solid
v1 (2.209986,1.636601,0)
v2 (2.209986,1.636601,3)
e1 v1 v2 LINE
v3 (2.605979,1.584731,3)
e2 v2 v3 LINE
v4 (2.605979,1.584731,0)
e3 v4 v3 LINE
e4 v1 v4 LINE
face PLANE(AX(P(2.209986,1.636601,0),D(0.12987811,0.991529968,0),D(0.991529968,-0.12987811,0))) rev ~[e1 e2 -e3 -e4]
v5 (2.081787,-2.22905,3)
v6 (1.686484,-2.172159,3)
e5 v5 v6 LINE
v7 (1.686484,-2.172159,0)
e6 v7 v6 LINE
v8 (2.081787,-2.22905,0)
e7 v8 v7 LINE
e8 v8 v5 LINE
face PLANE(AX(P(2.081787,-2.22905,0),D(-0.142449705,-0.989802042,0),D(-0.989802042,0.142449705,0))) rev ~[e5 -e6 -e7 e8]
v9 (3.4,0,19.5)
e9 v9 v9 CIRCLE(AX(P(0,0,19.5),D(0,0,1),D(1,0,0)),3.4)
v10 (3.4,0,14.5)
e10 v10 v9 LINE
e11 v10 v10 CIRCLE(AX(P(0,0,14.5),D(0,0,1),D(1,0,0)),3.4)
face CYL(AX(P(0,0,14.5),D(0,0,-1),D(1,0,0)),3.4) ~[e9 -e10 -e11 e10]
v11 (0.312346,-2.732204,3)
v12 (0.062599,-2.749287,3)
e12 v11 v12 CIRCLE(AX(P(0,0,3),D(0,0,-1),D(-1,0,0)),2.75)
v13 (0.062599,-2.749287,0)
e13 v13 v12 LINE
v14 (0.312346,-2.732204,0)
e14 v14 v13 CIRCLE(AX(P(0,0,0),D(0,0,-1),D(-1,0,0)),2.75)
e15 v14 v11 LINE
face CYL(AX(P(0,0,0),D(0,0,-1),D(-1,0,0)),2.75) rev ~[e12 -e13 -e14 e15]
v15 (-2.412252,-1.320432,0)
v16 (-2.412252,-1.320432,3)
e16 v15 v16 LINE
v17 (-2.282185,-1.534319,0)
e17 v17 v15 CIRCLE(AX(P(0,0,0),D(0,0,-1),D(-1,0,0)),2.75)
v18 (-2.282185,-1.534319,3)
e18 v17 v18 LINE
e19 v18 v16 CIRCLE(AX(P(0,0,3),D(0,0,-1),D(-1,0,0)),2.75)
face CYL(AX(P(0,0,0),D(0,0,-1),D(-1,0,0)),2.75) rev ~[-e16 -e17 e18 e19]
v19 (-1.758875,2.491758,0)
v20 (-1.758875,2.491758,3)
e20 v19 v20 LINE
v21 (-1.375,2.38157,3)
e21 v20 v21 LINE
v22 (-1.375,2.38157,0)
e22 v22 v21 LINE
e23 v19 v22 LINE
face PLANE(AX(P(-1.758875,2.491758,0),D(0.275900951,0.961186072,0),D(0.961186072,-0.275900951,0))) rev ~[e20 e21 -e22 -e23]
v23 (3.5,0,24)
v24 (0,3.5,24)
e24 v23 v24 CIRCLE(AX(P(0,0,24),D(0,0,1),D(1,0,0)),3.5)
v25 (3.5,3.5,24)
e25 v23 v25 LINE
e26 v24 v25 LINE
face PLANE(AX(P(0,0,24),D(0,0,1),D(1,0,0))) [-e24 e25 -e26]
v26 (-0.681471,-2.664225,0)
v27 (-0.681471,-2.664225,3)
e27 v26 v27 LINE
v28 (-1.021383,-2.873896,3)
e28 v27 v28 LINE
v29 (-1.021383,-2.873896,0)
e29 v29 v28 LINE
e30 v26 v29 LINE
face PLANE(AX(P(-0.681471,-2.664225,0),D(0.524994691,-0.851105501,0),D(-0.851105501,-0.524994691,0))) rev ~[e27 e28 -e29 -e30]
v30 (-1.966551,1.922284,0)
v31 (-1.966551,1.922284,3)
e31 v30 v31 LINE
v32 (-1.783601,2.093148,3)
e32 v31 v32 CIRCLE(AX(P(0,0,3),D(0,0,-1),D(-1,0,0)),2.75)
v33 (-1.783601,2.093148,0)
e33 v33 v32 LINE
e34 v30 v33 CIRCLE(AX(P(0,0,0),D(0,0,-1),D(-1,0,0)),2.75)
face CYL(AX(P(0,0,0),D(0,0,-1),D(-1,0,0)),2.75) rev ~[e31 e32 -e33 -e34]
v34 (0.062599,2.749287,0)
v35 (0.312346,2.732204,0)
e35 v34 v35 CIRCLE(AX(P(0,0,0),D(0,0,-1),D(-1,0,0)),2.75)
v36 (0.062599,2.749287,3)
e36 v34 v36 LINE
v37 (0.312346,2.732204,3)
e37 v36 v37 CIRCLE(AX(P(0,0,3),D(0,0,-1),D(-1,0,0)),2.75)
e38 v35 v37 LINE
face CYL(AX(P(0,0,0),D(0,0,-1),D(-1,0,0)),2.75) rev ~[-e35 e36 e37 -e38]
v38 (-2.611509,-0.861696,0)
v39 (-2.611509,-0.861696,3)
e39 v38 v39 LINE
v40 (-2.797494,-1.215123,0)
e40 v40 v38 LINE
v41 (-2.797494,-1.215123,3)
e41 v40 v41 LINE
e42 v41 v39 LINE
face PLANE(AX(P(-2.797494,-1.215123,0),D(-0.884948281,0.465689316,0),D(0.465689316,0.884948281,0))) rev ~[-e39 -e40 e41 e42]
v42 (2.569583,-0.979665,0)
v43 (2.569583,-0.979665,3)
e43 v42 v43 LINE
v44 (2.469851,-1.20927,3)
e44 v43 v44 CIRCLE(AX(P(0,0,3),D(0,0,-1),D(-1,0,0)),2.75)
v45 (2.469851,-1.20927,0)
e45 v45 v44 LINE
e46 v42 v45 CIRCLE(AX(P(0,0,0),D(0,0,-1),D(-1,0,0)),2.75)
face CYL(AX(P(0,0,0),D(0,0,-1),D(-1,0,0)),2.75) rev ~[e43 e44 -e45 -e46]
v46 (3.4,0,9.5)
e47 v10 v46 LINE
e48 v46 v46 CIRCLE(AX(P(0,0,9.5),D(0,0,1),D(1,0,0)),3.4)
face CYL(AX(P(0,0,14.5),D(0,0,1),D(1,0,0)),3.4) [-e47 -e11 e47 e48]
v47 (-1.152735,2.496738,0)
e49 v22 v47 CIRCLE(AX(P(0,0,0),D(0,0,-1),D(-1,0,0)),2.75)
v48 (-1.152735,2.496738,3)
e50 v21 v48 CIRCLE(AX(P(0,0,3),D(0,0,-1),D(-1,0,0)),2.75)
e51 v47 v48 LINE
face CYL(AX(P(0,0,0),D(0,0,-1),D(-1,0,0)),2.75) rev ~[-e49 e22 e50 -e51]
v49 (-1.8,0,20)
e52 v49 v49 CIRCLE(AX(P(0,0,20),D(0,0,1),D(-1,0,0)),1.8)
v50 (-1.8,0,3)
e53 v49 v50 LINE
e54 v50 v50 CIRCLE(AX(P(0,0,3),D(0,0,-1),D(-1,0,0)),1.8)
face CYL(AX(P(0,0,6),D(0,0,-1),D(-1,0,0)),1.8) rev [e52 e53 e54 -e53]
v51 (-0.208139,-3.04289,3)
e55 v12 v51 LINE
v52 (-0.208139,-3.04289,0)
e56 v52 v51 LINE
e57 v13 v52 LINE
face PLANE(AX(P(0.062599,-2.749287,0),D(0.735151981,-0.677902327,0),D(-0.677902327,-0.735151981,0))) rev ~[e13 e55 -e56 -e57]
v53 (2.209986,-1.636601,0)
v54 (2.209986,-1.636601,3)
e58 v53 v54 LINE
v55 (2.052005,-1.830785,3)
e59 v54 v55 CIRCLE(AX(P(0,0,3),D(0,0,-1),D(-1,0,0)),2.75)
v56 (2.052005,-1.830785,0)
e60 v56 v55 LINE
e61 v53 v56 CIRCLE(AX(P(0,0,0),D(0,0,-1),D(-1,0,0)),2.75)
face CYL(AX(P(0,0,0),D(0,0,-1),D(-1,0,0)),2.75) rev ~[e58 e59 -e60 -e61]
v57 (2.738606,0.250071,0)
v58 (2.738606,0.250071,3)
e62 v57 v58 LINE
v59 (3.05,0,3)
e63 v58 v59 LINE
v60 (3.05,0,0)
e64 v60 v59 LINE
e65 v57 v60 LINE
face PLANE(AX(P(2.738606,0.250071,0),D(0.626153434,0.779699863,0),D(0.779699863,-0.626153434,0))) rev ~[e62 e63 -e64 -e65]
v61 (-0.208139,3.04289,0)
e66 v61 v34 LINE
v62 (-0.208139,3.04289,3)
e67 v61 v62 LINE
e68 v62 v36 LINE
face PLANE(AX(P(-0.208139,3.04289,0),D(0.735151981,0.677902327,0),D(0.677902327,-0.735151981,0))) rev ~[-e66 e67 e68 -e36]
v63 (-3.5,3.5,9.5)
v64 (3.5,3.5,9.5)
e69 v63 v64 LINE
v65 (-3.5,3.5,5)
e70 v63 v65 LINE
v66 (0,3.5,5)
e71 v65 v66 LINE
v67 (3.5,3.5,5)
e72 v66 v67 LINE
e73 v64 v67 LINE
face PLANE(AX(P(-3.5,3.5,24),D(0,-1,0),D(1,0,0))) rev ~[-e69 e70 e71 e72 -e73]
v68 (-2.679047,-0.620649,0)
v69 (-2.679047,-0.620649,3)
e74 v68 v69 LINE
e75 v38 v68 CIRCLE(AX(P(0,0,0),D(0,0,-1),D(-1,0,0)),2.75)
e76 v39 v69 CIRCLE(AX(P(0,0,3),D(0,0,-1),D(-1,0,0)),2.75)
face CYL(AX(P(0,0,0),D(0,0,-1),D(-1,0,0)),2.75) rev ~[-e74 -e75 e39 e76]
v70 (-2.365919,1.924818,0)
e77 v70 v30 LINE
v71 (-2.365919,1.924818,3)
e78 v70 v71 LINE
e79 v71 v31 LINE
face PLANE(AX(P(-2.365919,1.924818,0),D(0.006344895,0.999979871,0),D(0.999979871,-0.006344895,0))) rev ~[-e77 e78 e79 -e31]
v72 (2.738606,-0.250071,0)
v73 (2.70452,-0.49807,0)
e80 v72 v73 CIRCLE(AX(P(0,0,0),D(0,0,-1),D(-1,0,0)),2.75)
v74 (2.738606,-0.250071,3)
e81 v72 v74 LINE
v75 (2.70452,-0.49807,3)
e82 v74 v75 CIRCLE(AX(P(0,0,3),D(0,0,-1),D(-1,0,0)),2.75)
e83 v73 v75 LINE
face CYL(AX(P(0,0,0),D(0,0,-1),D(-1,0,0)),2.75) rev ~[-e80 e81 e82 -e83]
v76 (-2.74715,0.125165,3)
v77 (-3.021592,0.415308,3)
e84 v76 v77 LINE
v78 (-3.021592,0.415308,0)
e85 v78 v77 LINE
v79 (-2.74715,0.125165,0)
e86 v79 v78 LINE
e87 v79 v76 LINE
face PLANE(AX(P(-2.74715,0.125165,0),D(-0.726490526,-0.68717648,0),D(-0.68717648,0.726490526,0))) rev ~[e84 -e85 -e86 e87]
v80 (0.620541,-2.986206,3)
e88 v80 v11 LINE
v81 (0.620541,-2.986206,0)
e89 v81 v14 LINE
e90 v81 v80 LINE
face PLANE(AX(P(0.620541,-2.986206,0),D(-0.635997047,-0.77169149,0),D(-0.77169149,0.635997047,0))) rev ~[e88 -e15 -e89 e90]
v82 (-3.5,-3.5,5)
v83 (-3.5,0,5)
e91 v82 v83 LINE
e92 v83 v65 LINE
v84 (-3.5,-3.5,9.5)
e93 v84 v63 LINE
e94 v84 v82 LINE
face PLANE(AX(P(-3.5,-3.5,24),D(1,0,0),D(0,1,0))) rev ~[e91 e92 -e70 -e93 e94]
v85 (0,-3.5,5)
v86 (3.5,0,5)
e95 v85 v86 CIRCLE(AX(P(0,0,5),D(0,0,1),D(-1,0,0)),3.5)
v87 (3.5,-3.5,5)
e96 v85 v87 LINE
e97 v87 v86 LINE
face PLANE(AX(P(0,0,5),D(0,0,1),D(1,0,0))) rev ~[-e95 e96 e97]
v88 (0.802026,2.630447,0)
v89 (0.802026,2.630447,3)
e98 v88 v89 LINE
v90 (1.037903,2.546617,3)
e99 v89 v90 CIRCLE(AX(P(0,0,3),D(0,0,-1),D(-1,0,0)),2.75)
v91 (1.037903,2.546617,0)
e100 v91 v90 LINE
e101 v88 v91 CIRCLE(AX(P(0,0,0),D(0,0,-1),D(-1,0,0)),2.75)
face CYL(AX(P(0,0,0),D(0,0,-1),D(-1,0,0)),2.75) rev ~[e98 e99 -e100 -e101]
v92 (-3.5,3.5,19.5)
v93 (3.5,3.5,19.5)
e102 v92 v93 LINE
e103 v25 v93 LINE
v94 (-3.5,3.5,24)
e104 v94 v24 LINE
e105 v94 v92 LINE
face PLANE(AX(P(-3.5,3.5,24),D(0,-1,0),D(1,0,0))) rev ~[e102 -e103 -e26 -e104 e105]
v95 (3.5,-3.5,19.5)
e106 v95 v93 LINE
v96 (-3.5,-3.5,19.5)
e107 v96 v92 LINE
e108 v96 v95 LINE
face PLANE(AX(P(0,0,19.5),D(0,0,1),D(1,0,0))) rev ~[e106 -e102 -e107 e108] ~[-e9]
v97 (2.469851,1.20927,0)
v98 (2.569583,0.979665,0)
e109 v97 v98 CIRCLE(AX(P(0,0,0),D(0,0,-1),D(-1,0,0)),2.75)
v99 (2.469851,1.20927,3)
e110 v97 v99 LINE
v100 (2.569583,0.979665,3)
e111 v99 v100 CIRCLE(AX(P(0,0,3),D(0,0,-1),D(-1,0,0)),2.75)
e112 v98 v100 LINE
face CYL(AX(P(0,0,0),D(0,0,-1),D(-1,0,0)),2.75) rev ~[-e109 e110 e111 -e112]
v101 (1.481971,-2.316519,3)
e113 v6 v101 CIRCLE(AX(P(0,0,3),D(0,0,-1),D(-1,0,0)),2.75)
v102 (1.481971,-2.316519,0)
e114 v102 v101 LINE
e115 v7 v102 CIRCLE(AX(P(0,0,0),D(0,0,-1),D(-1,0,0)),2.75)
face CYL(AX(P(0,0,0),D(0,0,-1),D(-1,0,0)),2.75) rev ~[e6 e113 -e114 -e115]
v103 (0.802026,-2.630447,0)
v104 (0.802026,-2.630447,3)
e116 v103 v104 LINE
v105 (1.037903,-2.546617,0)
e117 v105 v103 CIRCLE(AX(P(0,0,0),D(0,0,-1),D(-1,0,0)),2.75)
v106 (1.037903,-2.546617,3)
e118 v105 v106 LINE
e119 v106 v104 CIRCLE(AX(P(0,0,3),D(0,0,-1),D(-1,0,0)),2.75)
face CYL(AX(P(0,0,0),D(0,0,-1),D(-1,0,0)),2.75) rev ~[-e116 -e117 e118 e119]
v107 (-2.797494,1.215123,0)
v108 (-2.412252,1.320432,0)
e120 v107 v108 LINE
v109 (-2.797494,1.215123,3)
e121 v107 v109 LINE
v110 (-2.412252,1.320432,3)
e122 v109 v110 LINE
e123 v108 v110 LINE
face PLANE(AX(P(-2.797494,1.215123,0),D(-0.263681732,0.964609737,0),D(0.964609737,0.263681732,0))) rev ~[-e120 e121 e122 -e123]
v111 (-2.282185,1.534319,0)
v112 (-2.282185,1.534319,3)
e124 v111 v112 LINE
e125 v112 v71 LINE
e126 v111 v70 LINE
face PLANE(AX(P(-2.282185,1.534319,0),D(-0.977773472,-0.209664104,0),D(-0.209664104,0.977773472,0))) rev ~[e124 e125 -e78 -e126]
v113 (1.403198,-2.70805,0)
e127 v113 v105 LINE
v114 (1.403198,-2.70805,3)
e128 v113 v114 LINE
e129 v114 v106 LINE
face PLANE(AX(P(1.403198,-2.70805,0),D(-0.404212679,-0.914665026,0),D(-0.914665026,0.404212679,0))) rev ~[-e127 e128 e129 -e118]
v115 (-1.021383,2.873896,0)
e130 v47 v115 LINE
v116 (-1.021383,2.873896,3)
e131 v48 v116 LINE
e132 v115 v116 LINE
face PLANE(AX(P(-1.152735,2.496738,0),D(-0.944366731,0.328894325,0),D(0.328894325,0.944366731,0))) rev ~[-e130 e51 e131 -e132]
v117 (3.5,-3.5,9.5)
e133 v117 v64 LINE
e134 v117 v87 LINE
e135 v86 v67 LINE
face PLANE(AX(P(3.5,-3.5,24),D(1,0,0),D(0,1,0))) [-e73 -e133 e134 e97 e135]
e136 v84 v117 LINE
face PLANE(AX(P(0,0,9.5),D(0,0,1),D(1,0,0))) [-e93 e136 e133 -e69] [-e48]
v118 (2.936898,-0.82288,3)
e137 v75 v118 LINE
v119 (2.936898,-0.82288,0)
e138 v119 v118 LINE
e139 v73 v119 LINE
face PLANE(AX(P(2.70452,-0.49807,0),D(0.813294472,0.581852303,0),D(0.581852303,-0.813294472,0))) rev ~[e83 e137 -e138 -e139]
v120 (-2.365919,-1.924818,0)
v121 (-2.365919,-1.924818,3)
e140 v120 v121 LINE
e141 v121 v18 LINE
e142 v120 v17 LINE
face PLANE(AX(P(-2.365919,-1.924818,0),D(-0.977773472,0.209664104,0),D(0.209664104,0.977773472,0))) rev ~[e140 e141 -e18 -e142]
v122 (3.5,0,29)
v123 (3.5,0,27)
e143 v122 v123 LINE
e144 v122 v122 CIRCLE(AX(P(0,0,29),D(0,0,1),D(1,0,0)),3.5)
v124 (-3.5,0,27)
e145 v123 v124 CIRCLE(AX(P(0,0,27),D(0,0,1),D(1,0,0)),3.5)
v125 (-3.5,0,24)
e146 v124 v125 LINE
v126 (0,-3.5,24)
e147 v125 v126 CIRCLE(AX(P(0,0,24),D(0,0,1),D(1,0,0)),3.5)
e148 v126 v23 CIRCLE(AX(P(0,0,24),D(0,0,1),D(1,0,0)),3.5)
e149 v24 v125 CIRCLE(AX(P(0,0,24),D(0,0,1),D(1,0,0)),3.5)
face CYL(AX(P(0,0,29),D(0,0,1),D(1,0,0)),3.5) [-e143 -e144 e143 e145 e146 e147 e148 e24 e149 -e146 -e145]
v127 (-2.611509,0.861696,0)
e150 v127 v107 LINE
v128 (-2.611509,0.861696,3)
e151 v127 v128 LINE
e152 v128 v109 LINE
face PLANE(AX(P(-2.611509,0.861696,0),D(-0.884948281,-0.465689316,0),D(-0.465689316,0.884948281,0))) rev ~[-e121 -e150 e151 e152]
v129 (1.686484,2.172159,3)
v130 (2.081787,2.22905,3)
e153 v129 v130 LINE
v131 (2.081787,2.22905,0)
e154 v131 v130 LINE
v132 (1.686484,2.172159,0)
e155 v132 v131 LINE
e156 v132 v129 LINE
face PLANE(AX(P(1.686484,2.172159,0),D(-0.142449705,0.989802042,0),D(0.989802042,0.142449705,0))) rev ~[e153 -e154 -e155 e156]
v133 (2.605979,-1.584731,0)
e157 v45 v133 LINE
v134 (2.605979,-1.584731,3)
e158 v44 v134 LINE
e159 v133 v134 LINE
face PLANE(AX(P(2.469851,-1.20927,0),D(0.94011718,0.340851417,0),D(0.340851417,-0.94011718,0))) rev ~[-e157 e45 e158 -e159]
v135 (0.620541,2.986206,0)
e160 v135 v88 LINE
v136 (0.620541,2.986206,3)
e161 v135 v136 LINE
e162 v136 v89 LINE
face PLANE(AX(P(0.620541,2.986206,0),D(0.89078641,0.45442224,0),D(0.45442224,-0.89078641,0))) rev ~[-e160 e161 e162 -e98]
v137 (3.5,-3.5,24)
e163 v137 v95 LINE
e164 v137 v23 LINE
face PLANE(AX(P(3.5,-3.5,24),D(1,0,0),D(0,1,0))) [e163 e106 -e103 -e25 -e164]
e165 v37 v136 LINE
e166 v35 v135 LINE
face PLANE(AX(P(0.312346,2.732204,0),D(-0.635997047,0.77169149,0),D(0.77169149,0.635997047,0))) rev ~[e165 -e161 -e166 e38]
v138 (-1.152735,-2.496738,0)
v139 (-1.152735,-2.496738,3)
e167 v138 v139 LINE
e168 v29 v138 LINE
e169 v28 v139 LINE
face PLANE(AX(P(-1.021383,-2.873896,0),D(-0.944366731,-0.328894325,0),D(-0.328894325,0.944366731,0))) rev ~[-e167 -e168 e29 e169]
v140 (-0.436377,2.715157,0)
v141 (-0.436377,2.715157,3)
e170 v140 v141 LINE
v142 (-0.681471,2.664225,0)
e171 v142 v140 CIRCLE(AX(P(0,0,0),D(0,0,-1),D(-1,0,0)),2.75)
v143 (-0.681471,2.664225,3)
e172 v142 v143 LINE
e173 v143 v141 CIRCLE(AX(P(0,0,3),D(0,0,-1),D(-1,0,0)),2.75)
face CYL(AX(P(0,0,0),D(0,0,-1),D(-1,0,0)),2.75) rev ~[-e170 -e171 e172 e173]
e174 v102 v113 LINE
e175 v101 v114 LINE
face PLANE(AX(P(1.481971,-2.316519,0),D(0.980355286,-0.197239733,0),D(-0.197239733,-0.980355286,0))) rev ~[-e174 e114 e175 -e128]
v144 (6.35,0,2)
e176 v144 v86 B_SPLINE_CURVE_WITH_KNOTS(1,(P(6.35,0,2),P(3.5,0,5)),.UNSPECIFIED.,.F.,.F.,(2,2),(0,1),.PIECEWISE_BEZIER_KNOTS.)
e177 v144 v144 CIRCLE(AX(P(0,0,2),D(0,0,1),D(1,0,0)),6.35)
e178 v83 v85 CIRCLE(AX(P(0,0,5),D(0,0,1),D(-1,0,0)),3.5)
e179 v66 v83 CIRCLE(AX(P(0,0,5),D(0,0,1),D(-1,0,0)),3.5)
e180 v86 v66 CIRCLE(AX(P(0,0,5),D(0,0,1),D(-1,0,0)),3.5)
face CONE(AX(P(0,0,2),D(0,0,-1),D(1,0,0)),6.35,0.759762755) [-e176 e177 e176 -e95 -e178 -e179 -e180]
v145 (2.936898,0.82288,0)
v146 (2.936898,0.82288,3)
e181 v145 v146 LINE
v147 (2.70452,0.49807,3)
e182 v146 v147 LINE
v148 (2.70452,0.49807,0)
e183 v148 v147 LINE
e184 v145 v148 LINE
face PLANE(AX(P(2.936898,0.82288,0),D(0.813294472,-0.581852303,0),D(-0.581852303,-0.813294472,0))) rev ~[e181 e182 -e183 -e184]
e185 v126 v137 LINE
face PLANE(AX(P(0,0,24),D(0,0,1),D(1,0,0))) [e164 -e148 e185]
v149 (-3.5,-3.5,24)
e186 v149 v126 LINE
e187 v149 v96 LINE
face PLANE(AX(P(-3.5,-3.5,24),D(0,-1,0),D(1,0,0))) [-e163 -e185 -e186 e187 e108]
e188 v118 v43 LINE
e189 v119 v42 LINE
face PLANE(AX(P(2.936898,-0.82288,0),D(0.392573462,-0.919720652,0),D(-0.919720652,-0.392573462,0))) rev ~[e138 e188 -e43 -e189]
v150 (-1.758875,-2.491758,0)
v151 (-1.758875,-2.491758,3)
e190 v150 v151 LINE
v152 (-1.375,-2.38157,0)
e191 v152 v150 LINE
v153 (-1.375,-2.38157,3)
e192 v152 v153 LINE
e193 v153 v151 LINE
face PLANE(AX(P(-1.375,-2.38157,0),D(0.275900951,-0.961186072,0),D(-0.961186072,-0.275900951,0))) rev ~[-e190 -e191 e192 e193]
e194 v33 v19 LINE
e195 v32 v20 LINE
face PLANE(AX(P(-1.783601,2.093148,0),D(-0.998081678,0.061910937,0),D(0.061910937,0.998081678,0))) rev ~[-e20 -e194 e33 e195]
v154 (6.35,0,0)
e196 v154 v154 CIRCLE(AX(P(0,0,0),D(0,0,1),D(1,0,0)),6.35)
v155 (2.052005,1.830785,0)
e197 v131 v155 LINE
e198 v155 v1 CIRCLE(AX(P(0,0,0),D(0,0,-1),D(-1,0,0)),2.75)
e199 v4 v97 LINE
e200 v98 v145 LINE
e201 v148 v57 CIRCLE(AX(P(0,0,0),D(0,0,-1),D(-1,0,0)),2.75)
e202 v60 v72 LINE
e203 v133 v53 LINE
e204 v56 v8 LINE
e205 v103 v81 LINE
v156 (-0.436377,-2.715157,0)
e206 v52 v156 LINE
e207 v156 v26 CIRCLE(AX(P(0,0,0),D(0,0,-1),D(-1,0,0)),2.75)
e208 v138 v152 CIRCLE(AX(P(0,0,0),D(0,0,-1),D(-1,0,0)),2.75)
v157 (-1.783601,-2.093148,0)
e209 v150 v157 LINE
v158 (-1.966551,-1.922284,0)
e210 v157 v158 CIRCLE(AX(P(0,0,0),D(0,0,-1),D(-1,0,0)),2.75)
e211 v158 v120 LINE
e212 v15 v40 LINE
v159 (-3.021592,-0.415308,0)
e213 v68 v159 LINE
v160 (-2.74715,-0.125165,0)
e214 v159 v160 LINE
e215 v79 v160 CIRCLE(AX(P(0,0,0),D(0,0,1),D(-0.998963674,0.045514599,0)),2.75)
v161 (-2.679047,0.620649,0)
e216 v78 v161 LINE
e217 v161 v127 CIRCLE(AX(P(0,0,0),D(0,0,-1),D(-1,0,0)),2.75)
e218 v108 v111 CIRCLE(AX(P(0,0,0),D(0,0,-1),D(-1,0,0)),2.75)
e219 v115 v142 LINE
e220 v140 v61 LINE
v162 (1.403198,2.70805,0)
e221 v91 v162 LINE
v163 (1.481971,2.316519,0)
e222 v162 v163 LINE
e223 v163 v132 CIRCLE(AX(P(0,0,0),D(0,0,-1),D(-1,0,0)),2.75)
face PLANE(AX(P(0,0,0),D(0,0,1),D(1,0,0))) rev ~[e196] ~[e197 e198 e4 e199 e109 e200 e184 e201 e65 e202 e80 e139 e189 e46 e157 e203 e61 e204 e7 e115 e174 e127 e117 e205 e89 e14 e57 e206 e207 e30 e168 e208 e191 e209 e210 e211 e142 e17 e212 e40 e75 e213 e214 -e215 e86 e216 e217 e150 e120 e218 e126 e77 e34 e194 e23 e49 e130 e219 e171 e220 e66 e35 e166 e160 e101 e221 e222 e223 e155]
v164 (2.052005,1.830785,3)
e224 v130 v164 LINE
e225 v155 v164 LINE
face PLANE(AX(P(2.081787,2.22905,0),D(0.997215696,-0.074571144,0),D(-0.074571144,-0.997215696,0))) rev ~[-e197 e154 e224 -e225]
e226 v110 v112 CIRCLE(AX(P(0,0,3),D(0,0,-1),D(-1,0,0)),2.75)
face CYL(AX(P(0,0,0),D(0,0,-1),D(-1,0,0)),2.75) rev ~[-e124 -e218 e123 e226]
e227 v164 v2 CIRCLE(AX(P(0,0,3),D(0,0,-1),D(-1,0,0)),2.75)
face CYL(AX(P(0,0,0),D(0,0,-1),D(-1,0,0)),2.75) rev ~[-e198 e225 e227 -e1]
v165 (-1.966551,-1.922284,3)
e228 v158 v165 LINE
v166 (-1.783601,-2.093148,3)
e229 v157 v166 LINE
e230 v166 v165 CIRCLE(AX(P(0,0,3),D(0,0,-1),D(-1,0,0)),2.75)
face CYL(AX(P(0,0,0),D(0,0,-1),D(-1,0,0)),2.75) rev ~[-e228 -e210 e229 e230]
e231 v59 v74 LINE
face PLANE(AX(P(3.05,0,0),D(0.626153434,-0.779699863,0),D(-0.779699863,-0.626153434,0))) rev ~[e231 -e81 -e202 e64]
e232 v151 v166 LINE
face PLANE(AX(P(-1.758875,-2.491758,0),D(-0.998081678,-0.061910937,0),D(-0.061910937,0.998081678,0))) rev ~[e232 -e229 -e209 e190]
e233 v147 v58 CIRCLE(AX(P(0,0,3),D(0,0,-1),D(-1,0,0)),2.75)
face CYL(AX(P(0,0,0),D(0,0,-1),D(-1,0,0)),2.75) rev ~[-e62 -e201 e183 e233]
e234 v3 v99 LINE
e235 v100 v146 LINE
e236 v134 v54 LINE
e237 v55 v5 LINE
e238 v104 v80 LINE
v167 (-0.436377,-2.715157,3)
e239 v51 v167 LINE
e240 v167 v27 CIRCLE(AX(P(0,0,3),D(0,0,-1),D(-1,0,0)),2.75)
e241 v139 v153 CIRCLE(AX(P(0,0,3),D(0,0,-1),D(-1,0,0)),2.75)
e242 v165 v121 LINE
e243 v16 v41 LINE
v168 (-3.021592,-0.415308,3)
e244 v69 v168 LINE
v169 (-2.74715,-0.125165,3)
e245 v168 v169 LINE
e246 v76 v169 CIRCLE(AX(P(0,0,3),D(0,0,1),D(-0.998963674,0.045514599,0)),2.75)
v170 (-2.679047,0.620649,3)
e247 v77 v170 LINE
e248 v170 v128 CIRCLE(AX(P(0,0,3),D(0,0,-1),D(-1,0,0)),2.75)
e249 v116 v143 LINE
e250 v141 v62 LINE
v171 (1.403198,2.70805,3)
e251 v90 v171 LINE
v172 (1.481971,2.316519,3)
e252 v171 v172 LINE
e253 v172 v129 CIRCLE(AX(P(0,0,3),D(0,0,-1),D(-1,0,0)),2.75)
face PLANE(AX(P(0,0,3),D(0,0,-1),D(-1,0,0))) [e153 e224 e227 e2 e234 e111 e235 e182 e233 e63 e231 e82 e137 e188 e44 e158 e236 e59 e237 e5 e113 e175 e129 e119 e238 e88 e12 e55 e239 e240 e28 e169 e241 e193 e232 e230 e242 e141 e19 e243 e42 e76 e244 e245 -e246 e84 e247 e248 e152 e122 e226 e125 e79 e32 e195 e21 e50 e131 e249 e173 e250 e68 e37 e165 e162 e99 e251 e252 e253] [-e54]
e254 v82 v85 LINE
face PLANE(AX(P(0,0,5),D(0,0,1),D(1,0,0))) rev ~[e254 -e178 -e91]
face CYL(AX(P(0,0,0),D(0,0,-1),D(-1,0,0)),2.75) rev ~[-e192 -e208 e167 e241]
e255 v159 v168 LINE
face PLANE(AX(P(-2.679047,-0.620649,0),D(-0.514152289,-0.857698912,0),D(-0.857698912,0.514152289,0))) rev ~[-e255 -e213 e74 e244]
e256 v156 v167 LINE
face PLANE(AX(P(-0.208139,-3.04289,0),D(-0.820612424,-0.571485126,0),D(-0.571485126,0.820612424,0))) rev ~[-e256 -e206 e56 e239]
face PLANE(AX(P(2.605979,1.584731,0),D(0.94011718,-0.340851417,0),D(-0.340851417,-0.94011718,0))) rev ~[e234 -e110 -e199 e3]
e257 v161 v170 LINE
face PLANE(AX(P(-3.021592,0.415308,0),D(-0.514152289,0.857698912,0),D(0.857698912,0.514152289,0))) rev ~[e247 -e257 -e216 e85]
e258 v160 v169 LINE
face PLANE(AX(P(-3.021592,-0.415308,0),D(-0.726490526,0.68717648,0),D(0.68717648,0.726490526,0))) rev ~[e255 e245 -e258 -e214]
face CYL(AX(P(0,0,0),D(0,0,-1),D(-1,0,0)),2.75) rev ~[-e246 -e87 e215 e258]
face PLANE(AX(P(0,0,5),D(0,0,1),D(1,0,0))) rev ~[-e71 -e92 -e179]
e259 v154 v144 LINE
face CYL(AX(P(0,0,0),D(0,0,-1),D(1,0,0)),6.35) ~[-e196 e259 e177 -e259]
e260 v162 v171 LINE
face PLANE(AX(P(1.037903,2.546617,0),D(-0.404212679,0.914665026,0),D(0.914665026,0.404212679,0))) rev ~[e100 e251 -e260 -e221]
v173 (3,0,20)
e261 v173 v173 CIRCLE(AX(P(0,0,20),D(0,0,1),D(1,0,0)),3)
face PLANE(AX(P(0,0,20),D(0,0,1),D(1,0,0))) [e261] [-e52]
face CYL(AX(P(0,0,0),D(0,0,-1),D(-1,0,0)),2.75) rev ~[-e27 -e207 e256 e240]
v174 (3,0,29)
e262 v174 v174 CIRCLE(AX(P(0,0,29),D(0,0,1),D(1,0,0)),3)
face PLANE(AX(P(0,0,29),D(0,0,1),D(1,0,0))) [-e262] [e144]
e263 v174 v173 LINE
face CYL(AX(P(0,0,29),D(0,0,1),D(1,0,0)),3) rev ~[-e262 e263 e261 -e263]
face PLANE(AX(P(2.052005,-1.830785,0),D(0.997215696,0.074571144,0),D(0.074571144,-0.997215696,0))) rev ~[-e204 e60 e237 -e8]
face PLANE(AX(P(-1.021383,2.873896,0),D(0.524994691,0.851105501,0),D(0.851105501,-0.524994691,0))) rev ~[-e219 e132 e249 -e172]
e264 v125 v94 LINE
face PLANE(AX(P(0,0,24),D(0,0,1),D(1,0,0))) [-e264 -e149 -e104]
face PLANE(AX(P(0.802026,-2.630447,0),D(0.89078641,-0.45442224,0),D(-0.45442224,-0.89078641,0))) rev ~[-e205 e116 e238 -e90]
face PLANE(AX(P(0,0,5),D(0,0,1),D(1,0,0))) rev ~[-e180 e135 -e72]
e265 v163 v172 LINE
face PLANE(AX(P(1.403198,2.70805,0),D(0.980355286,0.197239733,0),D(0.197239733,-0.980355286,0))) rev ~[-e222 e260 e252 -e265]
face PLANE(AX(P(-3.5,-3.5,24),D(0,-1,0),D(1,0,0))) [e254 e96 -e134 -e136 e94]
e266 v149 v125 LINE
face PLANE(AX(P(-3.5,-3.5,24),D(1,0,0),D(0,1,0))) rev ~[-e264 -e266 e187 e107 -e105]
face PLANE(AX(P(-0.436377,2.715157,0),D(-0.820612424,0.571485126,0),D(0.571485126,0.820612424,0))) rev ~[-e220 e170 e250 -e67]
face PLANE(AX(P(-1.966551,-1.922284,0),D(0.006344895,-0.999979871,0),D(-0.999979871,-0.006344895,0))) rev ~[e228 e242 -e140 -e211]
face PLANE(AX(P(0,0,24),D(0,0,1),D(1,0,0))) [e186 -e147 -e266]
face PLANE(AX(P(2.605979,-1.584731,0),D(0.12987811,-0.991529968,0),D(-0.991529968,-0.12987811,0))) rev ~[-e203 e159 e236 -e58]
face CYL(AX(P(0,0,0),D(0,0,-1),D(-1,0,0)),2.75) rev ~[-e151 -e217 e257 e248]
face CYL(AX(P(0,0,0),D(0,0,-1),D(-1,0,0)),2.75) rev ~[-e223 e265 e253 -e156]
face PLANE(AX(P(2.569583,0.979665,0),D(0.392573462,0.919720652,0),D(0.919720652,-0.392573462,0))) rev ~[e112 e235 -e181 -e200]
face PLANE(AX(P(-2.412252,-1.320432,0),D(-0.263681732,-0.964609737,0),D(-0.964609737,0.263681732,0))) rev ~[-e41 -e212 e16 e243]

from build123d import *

# Parameters (mm, degrees)
SKETCH_2_R               = 3.5
EXTRUDE_3_DEPTH          = 19
SKETCH_1_R               = 6.35
EXTRUDE_4_DEPTH          = 2
SKETCH_5_R               = 3.5
EXTRUDE_5_DEPTH          = 2
SKETCH_6_R               = 2.75
CUT_EXTRUDE_1_DEPTH      = 3
SKETCH_7_R               = 1.8
CUT_EXTRUDE_2_DEPTH      = 28.507180927
SKETCH_8_R               = 3
CUT_EXTRUDE_3_DEPTH      = 23
CUT_EXTRUDE_5_DEPTH      = 3
SKETCH_14_W              = 7
SKETCH_14_H              = 7
SKETCH_14_R              = 3.4
EXTRUDE_7_DEPTH          = 19
SKETCH_16_W              = 7
SKETCH_16_H              = 7
SKETCH_16_R              = 3.4
CUT_EXTRUDE_6_DEPTH      = 5
CUT_EXTRUDE_6_DEPTH_BACK = 5
SKETCH_17_R              = 3
SKETCH_17_R_2            = 1.8
EXTRUDE_8_DEPTH          = 14


with BuildPart() as part:
    # ｽｹｯﾁ2 → ﾎﾞｽ - 押し出し3 (new body)
    with BuildSketch(Plane.XY.offset(5)):
        with Locations(Location((0, 0, 0), (0, 0, 180))):
            Circle(SKETCH_2_R)
    extrude(amount=EXTRUDE_3_DEPTH)


with BuildPart() as body_2:
    # ｽｹｯﾁ1 → ﾎﾞｽ - 押し出し4 (new body)
    with BuildSketch(Plane.XY):
        Circle(SKETCH_1_R)
    extrude(amount=EXTRUDE_4_DEPTH)


    add(part.part)  # loft_1 joins it to this body
    # loft from a face of the part (loft_1)
    loft([body_2.faces().sort_by_distance((0, 0, 2))[0], body_2.faces().sort_by_distance((0, 0, 5))[0]])



with BuildPart() as body_3:
    # ｽｹｯﾁ5 → ﾎﾞｽ - 押し出し5 (new body)
    with BuildSketch(Plane.XY.offset(29)):
        Circle(SKETCH_5_R)
    extrude(amount=-EXTRUDE_5_DEPTH)


with BuildPart() as body_2_1:
    add(body_2.part)

    add(body_3.part)  # loft_2 joins it to this body
    # loft from a face of the part (loft_2)
    loft([body_2_1.faces().sort_by_distance((0, 0, 24))[0], body_2_1.faces().sort_by_distance((0, 0, 27))[0]])

    # ｽｹｯﾁ6 → ｶｯﾄ - 押し出し1 (cut)
    with BuildSketch(Plane(origin=(0, 0, 0), x_dir=(-1, 0, 0), z_dir=(0, 0, -1))):
        Circle(SKETCH_6_R)
    extrude(amount=-CUT_EXTRUDE_1_DEPTH, mode=Mode.SUBTRACT)

    # ｽｹｯﾁ7 → ｶｯﾄ - 押し出し2 (cut, through all)
    with BuildSketch(Plane(origin=(0, 0, 3), x_dir=(-1, 0, 0), z_dir=(0, 0, -1))):
        Circle(SKETCH_7_R)
    extrude(amount=-CUT_EXTRUDE_2_DEPTH, mode=Mode.SUBTRACT)

    # ｽｹｯﾁ8 → ｶｯﾄ - 押し出し3 (cut)
    with BuildSketch(Plane.XY.offset(29)):
        Circle(SKETCH_8_R)
    extrude(amount=-CUT_EXTRUDE_3_DEPTH, mode=Mode.SUBTRACT)

    # ｽｹｯﾁ12 → ｶｯﾄ - 押し出し5 (cut)
    with BuildSketch(Plane(origin=(0, 0, 0), x_dir=(-1, 0, 0), z_dir=(0, 0, -1))):
        with BuildLine():
            Line((0.208139361, 3.042889746), (-0.062598794, 2.749287433))
            ThreePointArc((-0.062598794, 2.749287433), (0.187666637, 2.743589115), (0.436377003, 2.715156554))
            Line((0.436377003, 2.715156554), (0.208139361, 3.042889746))
        make_face()
        with BuildLine():
            Line((1.021382817, 2.873895812), (0.681471411, 2.66422535))
            ThreePointArc((0.681471411, 2.66422535), (0.920918933, 2.591217536), (1.152735431, 2.496738077))
            Line((1.152735431, 2.496738077), (1.021382817, 2.873895812))
        make_face()
        with BuildLine():
            Line((1.758874982, 2.491758174), (1.375, 2.38156986))
            ThreePointArc((1.375, 2.38156986), (1.585870886, 2.246667206), (1.783600746, 2.093147959))
            Line((1.783600746, 2.093147959), (1.758874982, 2.491758174))
        make_face()
        with BuildLine():
            Line((2.365919437, 1.92481823), (1.966551129, 1.922284229))
            ThreePointArc((1.966551129, 1.922284229), (2.133206049, 1.735491847), (2.282184553, 1.534318633))
            Line((2.282184553, 1.534318633), (2.365919437, 1.92481823))
        make_face()
        with BuildLine():
            Line((2.79749447, 1.215123324), (2.412252157, 1.320431571))
            ThreePointArc((2.412252157, 1.320431571), (2.522331079, 1.095602997), (2.611509172, 0.861695912))
            Line((2.611509172, 0.861695912), (2.79749447, 1.215123324))
        make_face()
        with BuildLine():
            Line((3.021592135, 0.41530828), (2.679047477, 0.620648543))
            ThreePointArc((2.679047477, 0.620648543), (2.724386352, 0.374458285), (2.747150103, 0.125165148))
            Line((2.747150103, 0.125165148), (3.021592135, 0.41530828))
        make_face()
        with BuildLine():
            Line((3.021592135, -0.41530828), (2.747150103, -0.125165148))
            ThreePointArc((2.747150103, -0.125165148), (2.724386352, -0.374458285), (2.679047477, -0.620648543))
            Line((2.679047477, -0.620648543), (3.021592135, -0.41530828))
        make_face()
        with BuildLine():
            Line((2.79749447, -1.215123324), (2.611509172, -0.861695912))
            ThreePointArc((2.611509172, -0.861695912), (2.522331079, -1.095602997), (2.412252157, -1.320431571))
            Line((2.412252157, -1.320431571), (2.79749447, -1.215123324))
        make_face()
        with BuildLine():
            Line((2.365919437, -1.92481823), (2.282184553, -1.534318633))
            ThreePointArc((2.282184553, -1.534318633), (2.133206049, -1.735491847), (1.966551129, -1.922284229))
            Line((1.966551129, -1.922284229), (2.365919437, -1.92481823))
        make_face()
        with BuildLine():
            Line((1.758874982, -2.491758174), (1.783600746, -2.093147959))
            ThreePointArc((1.783600746, -2.093147959), (1.585870886, -2.246667206), (1.375, -2.38156986))
            Line((1.375, -2.38156986), (1.758874982, -2.491758174))
        make_face()
        with BuildLine():
            Line((1.021382817, -2.873895812), (1.152735431, -2.496738077))
            ThreePointArc((1.152735431, -2.496738077), (0.920918933, -2.591217536), (0.681471411, -2.66422535))
            Line((0.681471411, -2.66422535), (1.021382817, -2.873895812))
        make_face()
        with BuildLine():
            Line((0.208139361, -3.042889746), (0.436377003, -2.715156554))
            ThreePointArc((0.436377003, -2.715156554), (0.187666637, -2.743589115), (-0.062598794, -2.749287433))
            Line((-0.062598794, -2.749287433), (0.208139361, -3.042889746))
        make_face()
        with BuildLine():
            Line((-0.62054084, -2.986206467), (-0.312345512, -2.73220429))
            ThreePointArc((-0.312345512, -2.73220429), (-0.559504036, -2.692481241), (-0.802026334, -2.630447445))
            Line((-0.802026334, -2.630447445), (-0.62054084, -2.986206467))
        make_face()
        with BuildLine():
            Line((-1.403198365, -2.708049916), (-1.037902788, -2.546616933))
            ThreePointArc((-1.037902788, -2.546616933), (-1.265178854, -2.441684351), (-1.481971249, -2.316519203))
            Line((-1.481971249, -2.316519203), (-1.403198365, -2.708049916))
        make_face()
        with BuildLine():
            Line((-2.081787087, -2.229049691), (-1.686483563, -2.172158648))
            ThreePointArc((-1.686483563, -2.172158648), (-1.877021144, -2.009798902), (-2.052005136, -1.830785329))
            Line((-2.052005136, -1.830785329), (-2.081787087, -2.229049691))
        make_face()
        with BuildLine():
            Line((-2.605979184, -1.584731048), (-2.209985568, -1.636601293))
            ThreePointArc((-2.209985568, -1.636601293), (-2.349653363, -1.428855863), (-2.46985119, -1.209270483))
            Line((-2.46985119, -1.209270483), (-2.605979184, -1.584731048))
        make_face()
        with BuildLine():
            Line((-2.936897726, -0.822880152), (-2.569583052, -0.979664707))
            ThreePointArc((-2.569583052, -0.979664707), (-2.64802254, -0.741941121), (-2.704519679, -0.498069577))
            Line((-2.704519679, -0.498069577), (-2.936897726, -0.822880152))
        make_face()
        with BuildLine():
            Line((-3.05, 0), (-2.738606317, -0.250070871))
            ThreePointArc((-2.738606317, -0.250070871), (-2.75, 0), (-2.738606317, 0.250070871))
            Line((-2.738606317, 0.250070871), (-3.05, 0))
        make_face()
        with BuildLine():
            Line((-2.936897726, 0.822880152), (-2.704519679, 0.498069577))
            ThreePointArc((-2.704519679, 0.498069577), (-2.64802254, 0.741941121), (-2.569583052, 0.979664707))
            Line((-2.569583052, 0.979664707), (-2.936897726, 0.822880152))
        make_face()
        with BuildLine():
            Line((-2.605979184, 1.584731048), (-2.46985119, 1.209270483))
            ThreePointArc((-2.46985119, 1.209270483), (-2.349653363, 1.428855863), (-2.209985568, 1.636601293))
            Line((-2.209985568, 1.636601293), (-2.605979184, 1.584731048))
        make_face()
        with BuildLine():
            Line((-2.081787087, 2.229049691), (-2.052005136, 1.830785329))
            ThreePointArc((-2.052005136, 1.830785329), (-1.877021144, 2.009798902), (-1.686483563, 2.172158648))
            Line((-1.686483563, 2.172158648), (-2.081787087, 2.229049691))
        make_face()
        with BuildLine():
            Line((-1.403198365, 2.708049916), (-1.481971249, 2.316519203))
            ThreePointArc((-1.481971249, 2.316519203), (-1.265178854, 2.441684351), (-1.037902788, 2.546616933))
            Line((-1.037902788, 2.546616933), (-1.403198365, 2.708049916))
        make_face()
        with BuildLine():
            Line((-0.62054084, 2.986206467), (-0.802026334, 2.630447445))
            ThreePointArc((-0.802026334, 2.630447445), (-0.559504036, 2.692481241), (-0.312345512, 2.73220429))
            Line((-0.312345512, 2.73220429), (-0.62054084, 2.986206467))
        make_face()
    extrude(amount=-CUT_EXTRUDE_5_DEPTH, mode=Mode.SUBTRACT)

    # ｽｹｯﾁ14 → ﾎﾞｽ - 押し出し7 (add)
    with BuildSketch(Plane.XY.offset(24)):
        Rectangle(SKETCH_14_W, SKETCH_14_H)
        Circle(SKETCH_14_R, mode=Mode.SUBTRACT)
    extrude(amount=-EXTRUDE_7_DEPTH)

    # ｽｹｯﾁ16 → ｶｯﾄ - 押し出し6 (cut, two sides)
    with BuildSketch(Plane.XY.offset(14.5)) as cut_extrude_6_sk:
        Rectangle(SKETCH_16_W, SKETCH_16_H)
        Circle(SKETCH_16_R, mode=Mode.SUBTRACT)
    extrude(amount=CUT_EXTRUDE_6_DEPTH, mode=Mode.SUBTRACT)
    extrude(cut_extrude_6_sk.sketch, amount=-CUT_EXTRUDE_6_DEPTH_BACK, mode=Mode.SUBTRACT)

    # ｽｹｯﾁ17 → ﾎﾞｽ - 押し出し8 (add)
    with BuildSketch(Plane.XY.offset(6)):
        Circle(SKETCH_17_R)
        with Locations(Location((0, 0, 0), (0, 0, 180))):
            Circle(SKETCH_17_R_2, mode=Mode.SUBTRACT)
    extrude(amount=EXTRUDE_8_DEPTH)


solid = body_2_1.part
